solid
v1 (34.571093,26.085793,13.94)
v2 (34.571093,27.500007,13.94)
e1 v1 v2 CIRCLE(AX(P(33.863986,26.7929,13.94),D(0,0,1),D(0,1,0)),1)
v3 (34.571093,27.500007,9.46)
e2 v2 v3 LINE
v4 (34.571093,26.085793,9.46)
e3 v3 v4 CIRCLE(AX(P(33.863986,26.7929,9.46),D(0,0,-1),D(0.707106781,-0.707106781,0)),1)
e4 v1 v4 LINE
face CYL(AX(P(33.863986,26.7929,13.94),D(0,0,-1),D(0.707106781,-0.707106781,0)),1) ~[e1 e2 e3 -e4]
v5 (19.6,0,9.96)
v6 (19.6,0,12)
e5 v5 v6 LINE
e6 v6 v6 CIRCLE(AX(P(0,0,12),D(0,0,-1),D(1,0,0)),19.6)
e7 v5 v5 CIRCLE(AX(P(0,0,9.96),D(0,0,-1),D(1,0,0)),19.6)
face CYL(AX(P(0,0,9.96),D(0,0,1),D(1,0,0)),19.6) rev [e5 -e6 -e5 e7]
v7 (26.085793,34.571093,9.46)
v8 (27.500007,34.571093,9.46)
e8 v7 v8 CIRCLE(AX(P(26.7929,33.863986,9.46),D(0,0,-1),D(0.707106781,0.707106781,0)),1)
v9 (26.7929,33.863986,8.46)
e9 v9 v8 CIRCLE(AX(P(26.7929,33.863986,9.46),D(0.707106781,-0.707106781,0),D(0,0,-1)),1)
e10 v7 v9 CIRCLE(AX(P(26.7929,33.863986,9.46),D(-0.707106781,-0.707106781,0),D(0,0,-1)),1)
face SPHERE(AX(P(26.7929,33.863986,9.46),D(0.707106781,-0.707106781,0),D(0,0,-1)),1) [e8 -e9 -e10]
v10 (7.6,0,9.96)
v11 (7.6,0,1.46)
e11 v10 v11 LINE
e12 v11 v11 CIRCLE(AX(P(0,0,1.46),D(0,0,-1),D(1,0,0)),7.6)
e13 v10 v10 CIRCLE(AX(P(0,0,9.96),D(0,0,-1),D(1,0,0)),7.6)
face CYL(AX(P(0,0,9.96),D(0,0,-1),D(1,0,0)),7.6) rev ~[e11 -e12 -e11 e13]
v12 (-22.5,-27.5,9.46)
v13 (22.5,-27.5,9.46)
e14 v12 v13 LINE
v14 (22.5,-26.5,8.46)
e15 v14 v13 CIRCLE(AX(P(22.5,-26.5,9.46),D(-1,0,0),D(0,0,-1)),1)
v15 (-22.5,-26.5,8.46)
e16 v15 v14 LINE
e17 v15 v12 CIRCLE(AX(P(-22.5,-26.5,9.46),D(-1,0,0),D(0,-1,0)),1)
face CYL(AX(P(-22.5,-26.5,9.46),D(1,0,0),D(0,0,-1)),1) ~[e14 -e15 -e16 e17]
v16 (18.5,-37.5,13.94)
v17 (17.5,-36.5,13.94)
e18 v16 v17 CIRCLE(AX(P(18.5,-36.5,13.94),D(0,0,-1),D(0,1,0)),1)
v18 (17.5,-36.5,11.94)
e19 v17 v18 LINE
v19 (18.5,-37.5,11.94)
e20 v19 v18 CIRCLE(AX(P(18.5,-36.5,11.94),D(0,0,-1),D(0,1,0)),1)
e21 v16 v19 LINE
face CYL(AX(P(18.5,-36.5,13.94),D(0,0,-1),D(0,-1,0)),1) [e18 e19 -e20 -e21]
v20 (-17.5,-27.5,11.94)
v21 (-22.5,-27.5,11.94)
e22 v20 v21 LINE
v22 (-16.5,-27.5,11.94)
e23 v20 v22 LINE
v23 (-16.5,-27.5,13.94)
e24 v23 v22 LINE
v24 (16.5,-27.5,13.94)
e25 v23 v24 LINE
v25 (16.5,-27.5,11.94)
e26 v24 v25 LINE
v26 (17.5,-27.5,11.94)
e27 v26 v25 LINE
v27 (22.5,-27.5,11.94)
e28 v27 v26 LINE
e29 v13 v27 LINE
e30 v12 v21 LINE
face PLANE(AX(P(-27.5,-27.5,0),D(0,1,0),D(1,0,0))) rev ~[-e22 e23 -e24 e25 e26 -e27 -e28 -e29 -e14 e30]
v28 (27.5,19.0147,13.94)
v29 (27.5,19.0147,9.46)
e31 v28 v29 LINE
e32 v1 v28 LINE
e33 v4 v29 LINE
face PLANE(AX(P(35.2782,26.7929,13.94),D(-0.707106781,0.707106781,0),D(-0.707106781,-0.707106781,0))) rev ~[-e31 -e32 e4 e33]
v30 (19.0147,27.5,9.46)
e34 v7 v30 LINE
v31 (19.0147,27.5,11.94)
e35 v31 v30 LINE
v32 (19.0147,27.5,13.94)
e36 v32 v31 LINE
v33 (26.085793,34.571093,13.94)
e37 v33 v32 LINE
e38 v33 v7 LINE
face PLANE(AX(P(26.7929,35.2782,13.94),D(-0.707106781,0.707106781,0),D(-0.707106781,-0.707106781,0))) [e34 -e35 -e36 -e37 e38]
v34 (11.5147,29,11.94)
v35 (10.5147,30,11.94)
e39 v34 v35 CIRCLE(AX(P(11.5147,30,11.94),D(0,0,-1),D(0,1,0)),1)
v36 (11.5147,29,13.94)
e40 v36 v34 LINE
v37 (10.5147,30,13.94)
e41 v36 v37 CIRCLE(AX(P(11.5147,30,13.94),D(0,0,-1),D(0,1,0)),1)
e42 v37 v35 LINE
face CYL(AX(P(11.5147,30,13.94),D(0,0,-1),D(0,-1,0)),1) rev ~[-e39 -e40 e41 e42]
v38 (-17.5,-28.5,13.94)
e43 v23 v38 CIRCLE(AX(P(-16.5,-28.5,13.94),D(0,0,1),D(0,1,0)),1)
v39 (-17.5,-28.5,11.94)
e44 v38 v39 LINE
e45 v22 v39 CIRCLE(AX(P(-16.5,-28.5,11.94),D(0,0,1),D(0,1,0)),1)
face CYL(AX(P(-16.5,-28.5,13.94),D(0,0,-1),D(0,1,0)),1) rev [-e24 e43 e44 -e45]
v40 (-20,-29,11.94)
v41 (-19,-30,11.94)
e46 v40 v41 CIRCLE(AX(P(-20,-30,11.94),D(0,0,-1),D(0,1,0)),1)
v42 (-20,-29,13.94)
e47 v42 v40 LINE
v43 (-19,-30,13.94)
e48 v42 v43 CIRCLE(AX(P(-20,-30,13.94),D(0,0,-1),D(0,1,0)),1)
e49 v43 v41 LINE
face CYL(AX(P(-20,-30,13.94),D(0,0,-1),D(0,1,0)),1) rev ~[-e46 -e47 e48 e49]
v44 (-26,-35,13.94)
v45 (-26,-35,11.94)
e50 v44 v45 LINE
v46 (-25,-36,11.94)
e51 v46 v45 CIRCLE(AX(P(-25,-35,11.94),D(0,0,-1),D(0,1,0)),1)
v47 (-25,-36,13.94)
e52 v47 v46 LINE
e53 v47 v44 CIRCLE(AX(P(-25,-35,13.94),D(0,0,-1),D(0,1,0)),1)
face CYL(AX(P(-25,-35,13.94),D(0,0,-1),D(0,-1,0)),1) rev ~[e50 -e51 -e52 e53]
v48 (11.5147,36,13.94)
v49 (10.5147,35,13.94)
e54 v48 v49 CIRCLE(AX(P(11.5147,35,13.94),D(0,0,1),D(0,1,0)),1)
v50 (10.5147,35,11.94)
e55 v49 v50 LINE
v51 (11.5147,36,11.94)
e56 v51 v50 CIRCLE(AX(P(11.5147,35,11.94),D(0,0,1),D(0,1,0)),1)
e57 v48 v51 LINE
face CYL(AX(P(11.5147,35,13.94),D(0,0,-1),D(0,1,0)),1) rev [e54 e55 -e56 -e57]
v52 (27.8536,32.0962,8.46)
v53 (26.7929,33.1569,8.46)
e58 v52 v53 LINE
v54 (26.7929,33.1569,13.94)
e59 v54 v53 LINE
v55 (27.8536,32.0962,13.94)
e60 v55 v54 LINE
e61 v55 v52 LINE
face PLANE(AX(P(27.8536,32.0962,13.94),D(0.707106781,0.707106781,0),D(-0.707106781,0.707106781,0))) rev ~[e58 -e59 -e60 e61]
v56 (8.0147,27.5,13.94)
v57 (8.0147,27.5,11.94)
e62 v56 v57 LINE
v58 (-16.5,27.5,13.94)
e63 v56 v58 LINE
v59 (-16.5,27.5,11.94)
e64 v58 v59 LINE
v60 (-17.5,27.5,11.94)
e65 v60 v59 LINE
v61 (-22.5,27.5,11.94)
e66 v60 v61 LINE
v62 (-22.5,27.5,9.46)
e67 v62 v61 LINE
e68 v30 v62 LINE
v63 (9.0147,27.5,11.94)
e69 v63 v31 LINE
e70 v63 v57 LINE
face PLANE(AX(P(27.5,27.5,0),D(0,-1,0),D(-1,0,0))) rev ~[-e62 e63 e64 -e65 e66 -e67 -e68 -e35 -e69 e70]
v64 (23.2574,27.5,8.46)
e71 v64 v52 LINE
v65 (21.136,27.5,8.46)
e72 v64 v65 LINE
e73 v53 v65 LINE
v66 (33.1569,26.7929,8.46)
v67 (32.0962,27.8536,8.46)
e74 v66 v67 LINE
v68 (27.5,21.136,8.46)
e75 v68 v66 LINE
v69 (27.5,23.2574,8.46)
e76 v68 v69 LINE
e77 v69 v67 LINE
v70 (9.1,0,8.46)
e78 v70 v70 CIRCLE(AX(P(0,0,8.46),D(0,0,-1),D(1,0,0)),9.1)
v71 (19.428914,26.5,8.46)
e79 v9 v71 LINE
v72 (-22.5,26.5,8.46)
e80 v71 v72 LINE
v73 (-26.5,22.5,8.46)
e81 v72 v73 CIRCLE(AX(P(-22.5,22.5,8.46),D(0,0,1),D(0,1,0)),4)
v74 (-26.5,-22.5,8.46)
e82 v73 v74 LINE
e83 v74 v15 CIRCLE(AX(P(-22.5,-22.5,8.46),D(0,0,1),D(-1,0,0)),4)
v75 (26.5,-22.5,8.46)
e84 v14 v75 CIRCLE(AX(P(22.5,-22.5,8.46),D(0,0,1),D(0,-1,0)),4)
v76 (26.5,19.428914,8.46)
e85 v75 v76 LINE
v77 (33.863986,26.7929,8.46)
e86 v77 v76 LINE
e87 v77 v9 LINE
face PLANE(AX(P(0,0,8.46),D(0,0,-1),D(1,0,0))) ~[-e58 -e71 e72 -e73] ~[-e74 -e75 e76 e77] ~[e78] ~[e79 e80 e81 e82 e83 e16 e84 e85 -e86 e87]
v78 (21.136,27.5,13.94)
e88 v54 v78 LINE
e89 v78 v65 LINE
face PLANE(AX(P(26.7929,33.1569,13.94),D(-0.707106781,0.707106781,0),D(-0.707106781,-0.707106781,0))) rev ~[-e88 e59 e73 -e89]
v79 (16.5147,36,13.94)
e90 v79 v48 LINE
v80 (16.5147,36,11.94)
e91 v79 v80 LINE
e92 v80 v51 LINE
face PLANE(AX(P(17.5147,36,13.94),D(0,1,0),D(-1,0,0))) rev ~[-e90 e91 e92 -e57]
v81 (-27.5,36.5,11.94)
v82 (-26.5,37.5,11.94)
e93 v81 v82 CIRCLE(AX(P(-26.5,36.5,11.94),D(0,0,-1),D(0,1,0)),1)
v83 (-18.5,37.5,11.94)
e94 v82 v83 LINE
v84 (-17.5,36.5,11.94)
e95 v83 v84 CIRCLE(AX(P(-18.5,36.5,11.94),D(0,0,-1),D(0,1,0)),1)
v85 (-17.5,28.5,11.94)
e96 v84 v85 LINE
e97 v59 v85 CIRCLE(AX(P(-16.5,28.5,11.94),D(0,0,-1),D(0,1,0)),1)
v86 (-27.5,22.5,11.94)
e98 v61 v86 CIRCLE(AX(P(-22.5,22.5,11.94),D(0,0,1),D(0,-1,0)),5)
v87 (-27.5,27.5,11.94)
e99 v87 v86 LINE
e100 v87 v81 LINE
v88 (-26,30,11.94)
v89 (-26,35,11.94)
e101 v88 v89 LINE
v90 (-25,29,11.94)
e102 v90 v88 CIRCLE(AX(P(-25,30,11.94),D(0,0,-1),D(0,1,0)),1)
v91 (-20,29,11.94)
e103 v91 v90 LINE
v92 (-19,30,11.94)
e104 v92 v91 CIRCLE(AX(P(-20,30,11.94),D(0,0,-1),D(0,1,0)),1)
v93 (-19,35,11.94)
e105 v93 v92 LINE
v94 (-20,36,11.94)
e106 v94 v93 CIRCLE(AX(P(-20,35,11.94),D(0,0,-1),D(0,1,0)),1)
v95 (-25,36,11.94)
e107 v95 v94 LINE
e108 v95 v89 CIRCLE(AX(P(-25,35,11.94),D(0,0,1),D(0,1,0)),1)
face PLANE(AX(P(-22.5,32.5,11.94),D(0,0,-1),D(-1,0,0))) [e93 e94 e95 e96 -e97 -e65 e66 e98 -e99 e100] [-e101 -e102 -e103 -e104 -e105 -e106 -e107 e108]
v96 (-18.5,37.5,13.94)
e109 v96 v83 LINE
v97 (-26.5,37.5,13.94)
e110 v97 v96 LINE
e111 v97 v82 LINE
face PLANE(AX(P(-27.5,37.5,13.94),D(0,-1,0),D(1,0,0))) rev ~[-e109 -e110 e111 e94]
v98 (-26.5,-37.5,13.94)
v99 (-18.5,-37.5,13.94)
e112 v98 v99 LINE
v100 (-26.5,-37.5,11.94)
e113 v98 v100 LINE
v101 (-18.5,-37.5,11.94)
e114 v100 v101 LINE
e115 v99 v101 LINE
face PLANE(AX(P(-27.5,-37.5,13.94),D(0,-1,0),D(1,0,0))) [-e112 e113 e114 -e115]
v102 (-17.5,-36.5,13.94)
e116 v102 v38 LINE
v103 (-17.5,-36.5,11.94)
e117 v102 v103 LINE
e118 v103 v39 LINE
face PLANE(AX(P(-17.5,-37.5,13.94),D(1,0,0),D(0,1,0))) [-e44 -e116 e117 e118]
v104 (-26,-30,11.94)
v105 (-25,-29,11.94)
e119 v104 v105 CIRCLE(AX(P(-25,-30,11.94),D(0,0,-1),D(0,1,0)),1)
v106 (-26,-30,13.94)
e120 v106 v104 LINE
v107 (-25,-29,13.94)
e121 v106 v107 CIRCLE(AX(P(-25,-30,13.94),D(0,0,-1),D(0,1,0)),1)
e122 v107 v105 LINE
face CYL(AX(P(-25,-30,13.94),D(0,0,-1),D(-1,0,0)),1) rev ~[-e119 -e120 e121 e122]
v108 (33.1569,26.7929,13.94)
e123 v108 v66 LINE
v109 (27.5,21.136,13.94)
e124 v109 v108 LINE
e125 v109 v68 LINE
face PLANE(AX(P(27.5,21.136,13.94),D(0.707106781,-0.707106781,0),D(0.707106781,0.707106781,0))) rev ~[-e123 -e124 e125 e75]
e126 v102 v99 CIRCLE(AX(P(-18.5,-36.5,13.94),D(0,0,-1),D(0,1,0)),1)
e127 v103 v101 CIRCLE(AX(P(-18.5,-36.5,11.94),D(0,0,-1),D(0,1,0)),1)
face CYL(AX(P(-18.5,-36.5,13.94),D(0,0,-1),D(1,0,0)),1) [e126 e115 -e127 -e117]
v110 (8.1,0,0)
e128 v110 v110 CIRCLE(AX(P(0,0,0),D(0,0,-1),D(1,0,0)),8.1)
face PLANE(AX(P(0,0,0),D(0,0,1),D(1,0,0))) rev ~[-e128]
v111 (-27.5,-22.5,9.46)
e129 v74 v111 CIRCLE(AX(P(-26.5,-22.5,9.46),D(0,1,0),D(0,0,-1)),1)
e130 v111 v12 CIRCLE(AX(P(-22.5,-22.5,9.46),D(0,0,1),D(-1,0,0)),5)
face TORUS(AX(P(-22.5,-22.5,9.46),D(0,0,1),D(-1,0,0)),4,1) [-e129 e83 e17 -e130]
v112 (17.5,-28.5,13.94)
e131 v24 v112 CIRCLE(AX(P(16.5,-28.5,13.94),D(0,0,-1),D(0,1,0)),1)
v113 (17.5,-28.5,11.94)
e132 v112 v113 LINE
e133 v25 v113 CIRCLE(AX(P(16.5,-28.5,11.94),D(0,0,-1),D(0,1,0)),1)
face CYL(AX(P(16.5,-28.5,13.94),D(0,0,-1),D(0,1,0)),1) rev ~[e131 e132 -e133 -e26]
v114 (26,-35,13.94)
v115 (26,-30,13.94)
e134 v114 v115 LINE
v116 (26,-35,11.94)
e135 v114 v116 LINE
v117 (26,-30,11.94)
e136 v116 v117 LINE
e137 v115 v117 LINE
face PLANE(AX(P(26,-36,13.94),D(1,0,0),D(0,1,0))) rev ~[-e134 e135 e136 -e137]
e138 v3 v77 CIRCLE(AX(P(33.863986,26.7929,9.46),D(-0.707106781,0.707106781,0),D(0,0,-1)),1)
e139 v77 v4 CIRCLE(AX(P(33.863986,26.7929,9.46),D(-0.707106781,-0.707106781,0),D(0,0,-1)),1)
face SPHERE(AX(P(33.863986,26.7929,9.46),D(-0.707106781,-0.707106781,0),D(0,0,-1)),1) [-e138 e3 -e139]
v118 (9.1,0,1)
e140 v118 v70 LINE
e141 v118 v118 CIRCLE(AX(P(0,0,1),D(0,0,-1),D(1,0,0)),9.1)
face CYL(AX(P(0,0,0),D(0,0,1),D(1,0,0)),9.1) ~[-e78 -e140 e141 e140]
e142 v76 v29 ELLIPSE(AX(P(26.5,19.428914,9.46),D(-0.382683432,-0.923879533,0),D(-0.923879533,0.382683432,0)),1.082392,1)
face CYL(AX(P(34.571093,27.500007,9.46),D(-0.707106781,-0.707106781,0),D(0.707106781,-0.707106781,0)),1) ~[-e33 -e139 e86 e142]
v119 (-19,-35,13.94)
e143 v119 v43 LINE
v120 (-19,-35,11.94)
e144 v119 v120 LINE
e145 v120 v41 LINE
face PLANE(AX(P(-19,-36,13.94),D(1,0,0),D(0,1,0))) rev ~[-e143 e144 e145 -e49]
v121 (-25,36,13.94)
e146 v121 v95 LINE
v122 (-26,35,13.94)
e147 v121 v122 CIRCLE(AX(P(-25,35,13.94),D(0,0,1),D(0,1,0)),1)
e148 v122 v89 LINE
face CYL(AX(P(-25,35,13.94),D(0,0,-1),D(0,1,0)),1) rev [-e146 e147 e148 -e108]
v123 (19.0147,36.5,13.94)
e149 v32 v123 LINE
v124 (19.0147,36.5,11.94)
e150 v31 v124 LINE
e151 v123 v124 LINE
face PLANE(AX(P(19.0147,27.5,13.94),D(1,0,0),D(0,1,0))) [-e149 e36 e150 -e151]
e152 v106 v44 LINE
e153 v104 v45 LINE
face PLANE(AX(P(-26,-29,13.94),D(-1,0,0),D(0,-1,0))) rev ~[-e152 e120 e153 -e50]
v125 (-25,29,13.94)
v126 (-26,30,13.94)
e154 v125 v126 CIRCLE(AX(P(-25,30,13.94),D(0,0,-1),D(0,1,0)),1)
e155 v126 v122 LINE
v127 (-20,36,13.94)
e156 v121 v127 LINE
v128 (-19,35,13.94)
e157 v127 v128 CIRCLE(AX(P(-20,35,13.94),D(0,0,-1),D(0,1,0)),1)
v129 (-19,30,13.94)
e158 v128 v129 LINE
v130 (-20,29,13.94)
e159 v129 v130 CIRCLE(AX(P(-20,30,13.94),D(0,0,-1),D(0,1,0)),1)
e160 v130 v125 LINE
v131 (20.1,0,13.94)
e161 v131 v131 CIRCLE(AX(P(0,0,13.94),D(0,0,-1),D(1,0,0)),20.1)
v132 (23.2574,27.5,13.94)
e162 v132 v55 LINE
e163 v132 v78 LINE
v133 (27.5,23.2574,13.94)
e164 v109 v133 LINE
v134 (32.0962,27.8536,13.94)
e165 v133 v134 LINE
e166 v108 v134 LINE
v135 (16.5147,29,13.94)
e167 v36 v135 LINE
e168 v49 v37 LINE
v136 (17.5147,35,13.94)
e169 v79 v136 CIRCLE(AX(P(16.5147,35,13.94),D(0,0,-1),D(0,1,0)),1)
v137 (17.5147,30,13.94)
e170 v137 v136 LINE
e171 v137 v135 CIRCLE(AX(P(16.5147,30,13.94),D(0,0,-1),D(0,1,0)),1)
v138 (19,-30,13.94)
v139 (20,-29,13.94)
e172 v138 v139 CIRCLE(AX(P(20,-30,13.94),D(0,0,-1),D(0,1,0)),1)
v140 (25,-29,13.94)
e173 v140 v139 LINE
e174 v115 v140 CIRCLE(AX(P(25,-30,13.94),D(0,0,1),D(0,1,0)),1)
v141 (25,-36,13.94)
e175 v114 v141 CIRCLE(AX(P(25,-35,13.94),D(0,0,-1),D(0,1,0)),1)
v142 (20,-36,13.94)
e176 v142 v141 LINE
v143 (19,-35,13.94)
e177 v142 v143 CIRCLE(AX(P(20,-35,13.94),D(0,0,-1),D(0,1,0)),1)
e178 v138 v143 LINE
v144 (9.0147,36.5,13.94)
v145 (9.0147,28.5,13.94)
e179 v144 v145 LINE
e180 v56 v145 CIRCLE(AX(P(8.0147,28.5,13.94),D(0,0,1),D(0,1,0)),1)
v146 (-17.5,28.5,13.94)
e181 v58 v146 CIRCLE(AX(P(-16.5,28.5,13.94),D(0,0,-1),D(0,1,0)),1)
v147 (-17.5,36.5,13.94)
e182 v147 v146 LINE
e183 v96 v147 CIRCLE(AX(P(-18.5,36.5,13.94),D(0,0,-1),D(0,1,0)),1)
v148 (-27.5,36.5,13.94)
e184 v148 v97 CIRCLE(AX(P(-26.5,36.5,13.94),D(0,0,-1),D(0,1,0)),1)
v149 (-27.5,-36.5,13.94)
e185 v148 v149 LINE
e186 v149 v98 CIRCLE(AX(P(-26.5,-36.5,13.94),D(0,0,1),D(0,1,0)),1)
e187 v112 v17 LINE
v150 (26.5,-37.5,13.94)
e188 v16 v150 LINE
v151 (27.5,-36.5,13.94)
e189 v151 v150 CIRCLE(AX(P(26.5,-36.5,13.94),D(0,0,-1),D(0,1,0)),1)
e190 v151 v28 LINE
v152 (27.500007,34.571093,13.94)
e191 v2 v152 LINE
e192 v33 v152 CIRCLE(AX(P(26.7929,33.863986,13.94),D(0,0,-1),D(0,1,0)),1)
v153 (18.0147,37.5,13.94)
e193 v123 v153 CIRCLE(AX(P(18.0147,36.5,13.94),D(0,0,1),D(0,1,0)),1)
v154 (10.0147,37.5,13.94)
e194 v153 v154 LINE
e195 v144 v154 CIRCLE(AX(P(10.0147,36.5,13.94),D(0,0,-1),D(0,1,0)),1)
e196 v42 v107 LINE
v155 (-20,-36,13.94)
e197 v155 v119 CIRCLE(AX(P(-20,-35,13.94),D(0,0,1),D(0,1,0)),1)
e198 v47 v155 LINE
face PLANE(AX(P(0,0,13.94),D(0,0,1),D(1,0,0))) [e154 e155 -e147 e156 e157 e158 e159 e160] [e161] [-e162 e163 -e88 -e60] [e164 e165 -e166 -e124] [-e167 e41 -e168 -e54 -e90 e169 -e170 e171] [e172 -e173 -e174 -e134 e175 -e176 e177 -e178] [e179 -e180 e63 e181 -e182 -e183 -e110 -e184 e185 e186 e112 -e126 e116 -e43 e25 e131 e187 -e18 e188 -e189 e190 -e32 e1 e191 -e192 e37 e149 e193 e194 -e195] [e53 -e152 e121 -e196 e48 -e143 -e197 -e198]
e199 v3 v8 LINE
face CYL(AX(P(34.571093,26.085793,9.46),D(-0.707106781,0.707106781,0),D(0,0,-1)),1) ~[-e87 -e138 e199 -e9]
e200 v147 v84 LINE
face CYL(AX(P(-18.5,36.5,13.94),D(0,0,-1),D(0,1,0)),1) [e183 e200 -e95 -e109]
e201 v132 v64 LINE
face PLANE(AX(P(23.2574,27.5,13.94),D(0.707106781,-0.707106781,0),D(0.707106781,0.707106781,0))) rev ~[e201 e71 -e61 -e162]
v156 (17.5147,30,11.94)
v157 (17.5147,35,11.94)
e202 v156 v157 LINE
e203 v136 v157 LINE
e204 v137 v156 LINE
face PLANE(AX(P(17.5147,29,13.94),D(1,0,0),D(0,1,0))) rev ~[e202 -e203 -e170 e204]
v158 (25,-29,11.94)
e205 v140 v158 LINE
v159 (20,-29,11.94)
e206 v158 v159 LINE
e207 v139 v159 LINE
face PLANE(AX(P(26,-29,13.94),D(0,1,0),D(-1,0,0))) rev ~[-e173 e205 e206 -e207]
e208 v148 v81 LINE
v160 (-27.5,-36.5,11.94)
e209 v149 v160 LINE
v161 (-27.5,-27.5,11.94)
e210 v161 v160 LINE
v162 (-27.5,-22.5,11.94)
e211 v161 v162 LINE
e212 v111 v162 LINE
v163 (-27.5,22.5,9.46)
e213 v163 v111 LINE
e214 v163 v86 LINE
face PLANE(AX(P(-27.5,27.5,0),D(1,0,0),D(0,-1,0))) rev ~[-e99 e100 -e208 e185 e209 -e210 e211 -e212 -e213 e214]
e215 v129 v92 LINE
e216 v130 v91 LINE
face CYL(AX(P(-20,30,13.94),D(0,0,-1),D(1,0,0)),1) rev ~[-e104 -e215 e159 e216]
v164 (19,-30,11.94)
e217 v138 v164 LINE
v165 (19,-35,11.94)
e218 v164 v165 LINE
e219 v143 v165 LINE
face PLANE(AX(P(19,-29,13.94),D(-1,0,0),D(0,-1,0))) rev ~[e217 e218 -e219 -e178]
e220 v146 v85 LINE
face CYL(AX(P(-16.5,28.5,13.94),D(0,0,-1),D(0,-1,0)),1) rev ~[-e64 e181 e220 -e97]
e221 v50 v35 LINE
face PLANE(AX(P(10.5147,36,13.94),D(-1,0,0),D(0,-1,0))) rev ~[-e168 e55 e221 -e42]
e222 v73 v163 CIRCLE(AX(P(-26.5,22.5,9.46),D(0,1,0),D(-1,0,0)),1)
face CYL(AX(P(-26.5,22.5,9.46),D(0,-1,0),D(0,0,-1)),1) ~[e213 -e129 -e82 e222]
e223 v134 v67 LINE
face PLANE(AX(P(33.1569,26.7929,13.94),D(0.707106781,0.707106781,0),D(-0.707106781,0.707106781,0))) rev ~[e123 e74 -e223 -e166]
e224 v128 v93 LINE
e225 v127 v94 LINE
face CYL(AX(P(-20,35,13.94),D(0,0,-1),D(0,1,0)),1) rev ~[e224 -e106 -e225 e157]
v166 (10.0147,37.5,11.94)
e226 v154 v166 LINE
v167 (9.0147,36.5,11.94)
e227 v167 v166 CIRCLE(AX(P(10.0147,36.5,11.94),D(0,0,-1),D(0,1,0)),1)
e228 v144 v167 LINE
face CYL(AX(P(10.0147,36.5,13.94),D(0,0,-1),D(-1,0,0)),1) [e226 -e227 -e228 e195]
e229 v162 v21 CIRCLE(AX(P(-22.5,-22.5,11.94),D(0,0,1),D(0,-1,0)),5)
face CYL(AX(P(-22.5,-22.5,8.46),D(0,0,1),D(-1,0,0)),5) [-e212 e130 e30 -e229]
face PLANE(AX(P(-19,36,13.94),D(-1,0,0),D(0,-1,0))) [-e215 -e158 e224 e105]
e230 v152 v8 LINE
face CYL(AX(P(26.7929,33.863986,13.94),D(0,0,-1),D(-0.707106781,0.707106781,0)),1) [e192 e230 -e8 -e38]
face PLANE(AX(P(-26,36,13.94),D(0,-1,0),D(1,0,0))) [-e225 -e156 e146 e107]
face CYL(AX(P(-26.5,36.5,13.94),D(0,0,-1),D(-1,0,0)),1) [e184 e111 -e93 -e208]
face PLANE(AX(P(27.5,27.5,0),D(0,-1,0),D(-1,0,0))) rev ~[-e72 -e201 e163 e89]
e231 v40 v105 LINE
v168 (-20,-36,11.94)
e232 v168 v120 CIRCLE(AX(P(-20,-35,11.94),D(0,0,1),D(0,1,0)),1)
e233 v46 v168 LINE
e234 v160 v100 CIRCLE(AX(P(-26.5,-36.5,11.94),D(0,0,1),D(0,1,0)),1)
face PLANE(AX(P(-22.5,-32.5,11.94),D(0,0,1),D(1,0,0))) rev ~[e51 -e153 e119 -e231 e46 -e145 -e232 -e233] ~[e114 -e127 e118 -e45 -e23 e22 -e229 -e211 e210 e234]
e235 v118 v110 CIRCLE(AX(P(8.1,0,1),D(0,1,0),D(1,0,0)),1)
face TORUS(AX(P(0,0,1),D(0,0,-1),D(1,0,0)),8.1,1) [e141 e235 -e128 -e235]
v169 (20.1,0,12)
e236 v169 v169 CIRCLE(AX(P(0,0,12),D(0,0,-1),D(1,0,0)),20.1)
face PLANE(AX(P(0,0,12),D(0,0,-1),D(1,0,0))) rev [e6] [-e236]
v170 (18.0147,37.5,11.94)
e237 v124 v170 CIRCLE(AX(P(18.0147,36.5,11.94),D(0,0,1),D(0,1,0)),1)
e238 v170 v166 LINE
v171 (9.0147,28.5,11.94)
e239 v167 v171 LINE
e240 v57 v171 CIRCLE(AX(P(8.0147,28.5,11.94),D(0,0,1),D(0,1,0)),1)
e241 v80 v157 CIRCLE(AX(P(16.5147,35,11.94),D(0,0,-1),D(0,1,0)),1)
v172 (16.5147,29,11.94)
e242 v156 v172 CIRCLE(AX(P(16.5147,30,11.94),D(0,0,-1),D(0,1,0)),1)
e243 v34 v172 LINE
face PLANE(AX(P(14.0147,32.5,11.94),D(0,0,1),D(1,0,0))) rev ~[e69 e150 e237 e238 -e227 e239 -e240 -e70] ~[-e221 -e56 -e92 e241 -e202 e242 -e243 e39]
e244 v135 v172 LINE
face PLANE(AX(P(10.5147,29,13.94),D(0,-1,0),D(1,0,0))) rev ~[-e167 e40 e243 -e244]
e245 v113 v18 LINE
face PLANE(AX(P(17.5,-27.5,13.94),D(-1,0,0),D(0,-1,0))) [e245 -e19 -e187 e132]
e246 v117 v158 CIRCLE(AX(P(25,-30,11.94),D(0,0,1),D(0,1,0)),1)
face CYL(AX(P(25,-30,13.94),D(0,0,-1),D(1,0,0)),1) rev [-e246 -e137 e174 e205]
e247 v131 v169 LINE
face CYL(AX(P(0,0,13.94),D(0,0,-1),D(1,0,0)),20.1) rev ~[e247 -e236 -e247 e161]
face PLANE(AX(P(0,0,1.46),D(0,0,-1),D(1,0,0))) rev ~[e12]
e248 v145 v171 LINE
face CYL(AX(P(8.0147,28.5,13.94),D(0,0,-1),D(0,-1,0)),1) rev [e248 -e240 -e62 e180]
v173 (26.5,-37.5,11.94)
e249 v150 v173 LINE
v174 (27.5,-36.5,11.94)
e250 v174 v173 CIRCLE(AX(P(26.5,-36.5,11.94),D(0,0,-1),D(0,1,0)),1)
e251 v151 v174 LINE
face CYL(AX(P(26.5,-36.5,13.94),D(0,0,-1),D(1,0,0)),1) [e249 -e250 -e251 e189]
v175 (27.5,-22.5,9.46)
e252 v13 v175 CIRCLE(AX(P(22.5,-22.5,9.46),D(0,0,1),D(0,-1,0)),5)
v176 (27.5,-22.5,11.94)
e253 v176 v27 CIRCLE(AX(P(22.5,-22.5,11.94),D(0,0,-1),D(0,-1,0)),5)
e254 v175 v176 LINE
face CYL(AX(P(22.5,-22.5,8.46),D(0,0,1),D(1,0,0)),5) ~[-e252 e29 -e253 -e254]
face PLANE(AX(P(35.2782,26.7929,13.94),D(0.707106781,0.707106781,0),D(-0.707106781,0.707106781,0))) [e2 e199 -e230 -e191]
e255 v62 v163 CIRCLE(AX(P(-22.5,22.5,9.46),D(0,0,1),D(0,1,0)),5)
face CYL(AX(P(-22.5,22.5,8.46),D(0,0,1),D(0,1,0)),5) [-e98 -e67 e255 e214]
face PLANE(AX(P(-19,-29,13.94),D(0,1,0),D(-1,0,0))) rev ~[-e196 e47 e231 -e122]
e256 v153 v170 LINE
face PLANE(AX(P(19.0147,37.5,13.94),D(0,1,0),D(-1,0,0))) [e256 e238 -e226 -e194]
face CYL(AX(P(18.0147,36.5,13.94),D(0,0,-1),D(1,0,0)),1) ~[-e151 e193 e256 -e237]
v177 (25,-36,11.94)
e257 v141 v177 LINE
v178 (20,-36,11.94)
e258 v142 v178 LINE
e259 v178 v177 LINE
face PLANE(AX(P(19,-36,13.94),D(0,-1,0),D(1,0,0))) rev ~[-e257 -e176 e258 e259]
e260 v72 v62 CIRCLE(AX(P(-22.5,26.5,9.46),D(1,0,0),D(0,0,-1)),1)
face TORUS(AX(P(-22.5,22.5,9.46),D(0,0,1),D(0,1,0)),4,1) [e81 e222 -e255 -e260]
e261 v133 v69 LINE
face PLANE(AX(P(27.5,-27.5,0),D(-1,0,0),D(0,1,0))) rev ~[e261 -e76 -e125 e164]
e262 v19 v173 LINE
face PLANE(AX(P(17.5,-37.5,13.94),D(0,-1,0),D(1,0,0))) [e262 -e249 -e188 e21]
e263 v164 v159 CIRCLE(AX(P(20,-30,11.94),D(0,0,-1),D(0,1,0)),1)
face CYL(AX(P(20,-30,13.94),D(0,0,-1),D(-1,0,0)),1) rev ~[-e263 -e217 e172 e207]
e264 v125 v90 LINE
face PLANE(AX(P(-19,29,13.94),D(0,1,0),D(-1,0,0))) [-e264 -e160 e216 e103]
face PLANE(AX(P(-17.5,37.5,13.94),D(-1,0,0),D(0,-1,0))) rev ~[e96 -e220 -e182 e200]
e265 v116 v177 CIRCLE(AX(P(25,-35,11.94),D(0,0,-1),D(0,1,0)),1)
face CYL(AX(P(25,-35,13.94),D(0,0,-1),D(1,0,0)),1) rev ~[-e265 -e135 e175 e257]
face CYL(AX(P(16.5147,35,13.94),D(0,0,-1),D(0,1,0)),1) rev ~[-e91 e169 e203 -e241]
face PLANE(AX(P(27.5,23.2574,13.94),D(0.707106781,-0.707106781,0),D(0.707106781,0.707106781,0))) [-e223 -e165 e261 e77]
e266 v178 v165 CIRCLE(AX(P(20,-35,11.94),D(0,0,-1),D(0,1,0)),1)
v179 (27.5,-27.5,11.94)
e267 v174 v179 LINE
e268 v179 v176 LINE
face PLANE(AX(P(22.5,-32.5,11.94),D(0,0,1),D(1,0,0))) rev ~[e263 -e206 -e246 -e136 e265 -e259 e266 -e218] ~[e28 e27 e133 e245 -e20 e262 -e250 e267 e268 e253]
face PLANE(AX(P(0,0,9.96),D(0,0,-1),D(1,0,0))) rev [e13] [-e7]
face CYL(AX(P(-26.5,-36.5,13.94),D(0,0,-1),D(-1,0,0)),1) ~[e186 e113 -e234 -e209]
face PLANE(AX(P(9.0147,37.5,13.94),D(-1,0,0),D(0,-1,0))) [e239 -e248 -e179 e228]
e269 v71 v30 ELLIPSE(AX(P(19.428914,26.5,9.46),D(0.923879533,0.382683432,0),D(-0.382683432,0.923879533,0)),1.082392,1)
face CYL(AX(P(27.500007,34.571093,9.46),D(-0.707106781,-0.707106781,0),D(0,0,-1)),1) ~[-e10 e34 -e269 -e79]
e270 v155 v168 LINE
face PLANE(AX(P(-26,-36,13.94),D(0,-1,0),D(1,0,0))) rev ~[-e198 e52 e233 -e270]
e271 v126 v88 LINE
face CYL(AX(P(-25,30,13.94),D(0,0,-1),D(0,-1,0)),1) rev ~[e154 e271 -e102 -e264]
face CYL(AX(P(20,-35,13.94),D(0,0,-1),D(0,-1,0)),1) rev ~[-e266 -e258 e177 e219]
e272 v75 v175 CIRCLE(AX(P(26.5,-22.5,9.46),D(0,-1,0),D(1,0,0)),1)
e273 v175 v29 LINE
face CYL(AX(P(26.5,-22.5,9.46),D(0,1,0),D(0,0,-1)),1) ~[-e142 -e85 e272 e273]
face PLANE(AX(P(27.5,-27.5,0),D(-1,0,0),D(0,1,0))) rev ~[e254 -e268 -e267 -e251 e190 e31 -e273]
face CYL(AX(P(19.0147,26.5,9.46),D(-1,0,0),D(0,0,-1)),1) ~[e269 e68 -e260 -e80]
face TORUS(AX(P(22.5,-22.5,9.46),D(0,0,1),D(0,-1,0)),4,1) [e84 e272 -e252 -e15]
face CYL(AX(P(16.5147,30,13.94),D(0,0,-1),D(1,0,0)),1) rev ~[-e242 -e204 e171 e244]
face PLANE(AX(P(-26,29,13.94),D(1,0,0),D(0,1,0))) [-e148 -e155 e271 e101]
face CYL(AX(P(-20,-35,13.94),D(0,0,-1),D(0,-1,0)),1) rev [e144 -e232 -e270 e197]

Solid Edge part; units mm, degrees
sketch "Sketch1" plane through (0, 0, 0) normal (0, 0, 1) x (1, 0, 0)
  line L0 (27.5, 27.5) -> (-27.5, 27.5)
  line L1 (-27.5, 27.5) -> (-27.5, -27.5)
  line L2 (-27.5, -27.5) -> (27.5, -27.5)
  line L3 (27.5, -27.5) -> (27.5, 27.5)
extrude "Protrusion1" add sketch "Sketch1" along normal blind 13.94
sketch "Sketch2" plane through (0, 0, 0) normal (0, -1, 0) x (1, 0, 0)
  line L0 (20.1, 13.94) -> (20.1, 12)
  line L1 (19.6, 12) -> (20.1, 12)
  line L2 (19.6, 9.96) -> (19.6, 12)
  line L3 (7.6, 9.96) -> (19.6, 9.96)
  line L4 (7.6, 9.96) -> (7.6, 1.46)
  line L5 (7.6, 1.46) -> (0, 1.46)
  line L6 (0, 13.94) -> (0, 1.46)
  line L7 (20.1, 13.94) -> (0, 13.94)
revolve "RevolvedCutout1" cut sketch "Sketch2" angle 360 about axis through (0, 0, 13.94) along (0, 0, -1)
sketch "Sketch3" plane through (0, 0, 6.97) normal (0, -1, 0) x (1, 0, 0)
  line L0 (9.1, 1.49) -> (39.1, 1.49)
  line L1 (39.1, 1.49) -> (39.1, -6.97)
  line L2 (39.1, -6.97) -> (9.1, -6.97)
  line L3 (9.1, -6.97) -> (9.1, 1.49)
revolve "RevolvedCutout2" cut sketch "Sketch3" angle 360 about axis through (0, 0, 12.8514) along (0, 0, -1)
sketch "Sketch4" plane through (0, 0, 13.94) normal (0, 0, 1) x (-1, 0, 0)
  line L0 (-35.2782, -26.7929) -> (-26.7929, -35.2782)
  line L1 (-26.7929, -35.2782) -> (-19.0147, -27.5)
  line L2 (-19.0147, -27.5) -> (-21.136, -27.5)
  line L3 (-26.7929, -33.1569) -> (-21.136, -27.5)
  line L4 (-27.8536, -32.0962) -> (-26.7929, -33.1569)
  line L5 (-23.2574, -27.5) -> (-27.8536, -32.0962)
  line L6 (-27.5, -27.5) -> (-23.2574, -27.5)
  line L7 (-27.5, -23.2574) -> (-27.5, -27.5)
  line L8 (-27.5, -23.2574) -> (-32.0962, -27.8536)
  line L9 (-33.1569, -26.7929) -> (-32.0962, -27.8536)
  line L10 (-27.5, -21.136) -> (-33.1569, -26.7929)
  line L11 (-27.5, -19.0147) -> (-27.5, -21.136)
  line L12 (-35.2782, -26.7929) -> (-27.5, -19.0147)
extrude "Protrusion2" add sketch "Sketch4" against normal up to vertex (5.48 mm away)
sketch "Sketch5" plane through (3.8891, 3.8891, 13.94) normal (0, 0, 1) x (0, 1, 0)
  line L0 (32.1109, 22.8891) -> (25.1109, 22.8891)
  line L1 (25.1109, 22.8891) -> (25.1109, 29.8891)
  line L2 (25.1109, 29.8891) -> (32.1109, 29.8891)
  line L3 (32.1109, 29.8891) -> (32.1109, 22.8891)
  line L4 (33.6109, 21.3891) -> (23.6109, 21.3891)
  line L5 (23.6109, 21.3891) -> (23.6109, 31.3891)
  line L6 (23.6109, 31.3891) -> (33.6109, 31.3891)
  line L7 (33.6109, 31.3891) -> (33.6109, 21.3891)
  line L8 (32.1109, -6.6256) -> (25.1109, -6.6256)
  line L9 (25.1109, -6.6256) -> (25.1109, -13.6256)
  line L10 (25.1109, -13.6256) -> (32.1109, -13.6256)
  line L11 (32.1109, -13.6256) -> (32.1109, -6.6256)
  line L12 (33.6109, -5.1256) -> (23.6109, -5.1256)
  line L13 (23.6109, -5.1256) -> (23.6109, -15.1256)
  line L14 (23.6109, -15.1256) -> (33.6109, -15.1256)
  line L15 (33.6109, -15.1256) -> (33.6109, -5.1256)
  line L16 (-32.8891, -15.1109) -> (-39.8891, -15.1109)
  line L17 (-39.8891, -15.1109) -> (-39.8891, -22.1109)
  line L18 (-39.8891, -22.1109) -> (-32.8891, -22.1109)
  line L19 (-32.8891, -22.1109) -> (-32.8891, -15.1109)
  line L20 (-31.3891, -13.6109) -> (-41.3891, -13.6109)
  line L21 (-41.3891, -13.6109) -> (-41.3891, -23.6109)
  line L22 (-41.3891, -23.6109) -> (-31.3891, -23.6109)
  line L23 (-31.3891, -23.6109) -> (-31.3891, -13.6109)
  line L24 (-39.8891, 22.8891) -> (-32.8891, 22.8891)
  line L25 (-32.8891, 22.8891) -> (-32.8891, 29.8891)
  line L26 (-32.8891, 29.8891) -> (-39.8891, 29.8891)
  line L27 (-39.8891, 29.8891) -> (-39.8891, 22.8891)
  line L28 (-41.3891, 21.3891) -> (-31.3891, 21.3891)
  line L29 (-31.3891, 21.3891) -> (-31.3891, 31.3891)
  line L30 (-31.3891, 31.3891) -> (-41.3891, 31.3891)
  line L31 (-41.3891, 31.3891) -> (-41.3891, 21.3891)
  dimension "D1" = 1.5
  dimension "D2" = 10
  dimension "D3" = 10
  dimension "D4" = 10
  dimension "D5" = 10
  dimension "D6" = 1.5
  dimension "D7" = 1.5
  dimension "D8" = 1.5
  dimension "D9" = 10
  dimension "D10" = 10
  dimension "D11" = 10
  dimension "D12" = 10
extrude "Protrusion3" add sketch "Sketch5" against normal blind 2
fillet "Round_1" radius 5 3 edges at (-27.5, 27.5, 10.2) (-27.5, -27.5, 10.2) (27.5, -27.5, 10.2)
fillet "Round_2" radius 1 28 edges at (-27.5, 37.5, 12.94) (-17.5, 37.5, 12.94) (-26, 36, 12.94) (-19, 36, 12.94) (-26, 29, 12.94) (-19, 29, 12.94) (-17.5, 27.5, 12.94) (10.5147, 29, 12.94) (17.5147, 29, 12.94) (10.5147, 36, 12.94) (17.5147, 36, 12.94) (9.0147, 37.5, 12.94) (19.0147, 37.5, 12.94) (9.0147, 27.5, 12.94) (-26, -29, 12.94) (-26, -36, 12.94) (-19, -36, 12.94) (-19, -29, 12.94) (-17.5, -27.5, 12.94) (-17.5, -37.5, 12.94) (-27.5, -37.5, 12.94) (19, -29, 12.94) (19, -36, 12.94) (26, -36, 12.94) (26, -29, 12.94) (27.5, -37.5, 12.94) (17.5, -37.5, 12.94) (17.5, -27.5, 12.94)
fillet "Round_3" radius 1 13 edges at (-9.1, 0, 0) (0, -27.5, 8.46) (26.0355, -26.0355, 8.46) (27.5, -1.7426, 8.46) (-26.0355, -26.0355, 8.46) (-27.5, 0, 8.46) (-26.0355, 26.0355, 8.46) (-1.7426, 27.5, 8.46) (31.3891, 22.9038, 8.46) (31.0355, 31.0355, 8.46) (22.9038, 31.3891, 8.46) (35.2782, 26.7929, 11.2) (26.7929, 35.2782, 11.2)
